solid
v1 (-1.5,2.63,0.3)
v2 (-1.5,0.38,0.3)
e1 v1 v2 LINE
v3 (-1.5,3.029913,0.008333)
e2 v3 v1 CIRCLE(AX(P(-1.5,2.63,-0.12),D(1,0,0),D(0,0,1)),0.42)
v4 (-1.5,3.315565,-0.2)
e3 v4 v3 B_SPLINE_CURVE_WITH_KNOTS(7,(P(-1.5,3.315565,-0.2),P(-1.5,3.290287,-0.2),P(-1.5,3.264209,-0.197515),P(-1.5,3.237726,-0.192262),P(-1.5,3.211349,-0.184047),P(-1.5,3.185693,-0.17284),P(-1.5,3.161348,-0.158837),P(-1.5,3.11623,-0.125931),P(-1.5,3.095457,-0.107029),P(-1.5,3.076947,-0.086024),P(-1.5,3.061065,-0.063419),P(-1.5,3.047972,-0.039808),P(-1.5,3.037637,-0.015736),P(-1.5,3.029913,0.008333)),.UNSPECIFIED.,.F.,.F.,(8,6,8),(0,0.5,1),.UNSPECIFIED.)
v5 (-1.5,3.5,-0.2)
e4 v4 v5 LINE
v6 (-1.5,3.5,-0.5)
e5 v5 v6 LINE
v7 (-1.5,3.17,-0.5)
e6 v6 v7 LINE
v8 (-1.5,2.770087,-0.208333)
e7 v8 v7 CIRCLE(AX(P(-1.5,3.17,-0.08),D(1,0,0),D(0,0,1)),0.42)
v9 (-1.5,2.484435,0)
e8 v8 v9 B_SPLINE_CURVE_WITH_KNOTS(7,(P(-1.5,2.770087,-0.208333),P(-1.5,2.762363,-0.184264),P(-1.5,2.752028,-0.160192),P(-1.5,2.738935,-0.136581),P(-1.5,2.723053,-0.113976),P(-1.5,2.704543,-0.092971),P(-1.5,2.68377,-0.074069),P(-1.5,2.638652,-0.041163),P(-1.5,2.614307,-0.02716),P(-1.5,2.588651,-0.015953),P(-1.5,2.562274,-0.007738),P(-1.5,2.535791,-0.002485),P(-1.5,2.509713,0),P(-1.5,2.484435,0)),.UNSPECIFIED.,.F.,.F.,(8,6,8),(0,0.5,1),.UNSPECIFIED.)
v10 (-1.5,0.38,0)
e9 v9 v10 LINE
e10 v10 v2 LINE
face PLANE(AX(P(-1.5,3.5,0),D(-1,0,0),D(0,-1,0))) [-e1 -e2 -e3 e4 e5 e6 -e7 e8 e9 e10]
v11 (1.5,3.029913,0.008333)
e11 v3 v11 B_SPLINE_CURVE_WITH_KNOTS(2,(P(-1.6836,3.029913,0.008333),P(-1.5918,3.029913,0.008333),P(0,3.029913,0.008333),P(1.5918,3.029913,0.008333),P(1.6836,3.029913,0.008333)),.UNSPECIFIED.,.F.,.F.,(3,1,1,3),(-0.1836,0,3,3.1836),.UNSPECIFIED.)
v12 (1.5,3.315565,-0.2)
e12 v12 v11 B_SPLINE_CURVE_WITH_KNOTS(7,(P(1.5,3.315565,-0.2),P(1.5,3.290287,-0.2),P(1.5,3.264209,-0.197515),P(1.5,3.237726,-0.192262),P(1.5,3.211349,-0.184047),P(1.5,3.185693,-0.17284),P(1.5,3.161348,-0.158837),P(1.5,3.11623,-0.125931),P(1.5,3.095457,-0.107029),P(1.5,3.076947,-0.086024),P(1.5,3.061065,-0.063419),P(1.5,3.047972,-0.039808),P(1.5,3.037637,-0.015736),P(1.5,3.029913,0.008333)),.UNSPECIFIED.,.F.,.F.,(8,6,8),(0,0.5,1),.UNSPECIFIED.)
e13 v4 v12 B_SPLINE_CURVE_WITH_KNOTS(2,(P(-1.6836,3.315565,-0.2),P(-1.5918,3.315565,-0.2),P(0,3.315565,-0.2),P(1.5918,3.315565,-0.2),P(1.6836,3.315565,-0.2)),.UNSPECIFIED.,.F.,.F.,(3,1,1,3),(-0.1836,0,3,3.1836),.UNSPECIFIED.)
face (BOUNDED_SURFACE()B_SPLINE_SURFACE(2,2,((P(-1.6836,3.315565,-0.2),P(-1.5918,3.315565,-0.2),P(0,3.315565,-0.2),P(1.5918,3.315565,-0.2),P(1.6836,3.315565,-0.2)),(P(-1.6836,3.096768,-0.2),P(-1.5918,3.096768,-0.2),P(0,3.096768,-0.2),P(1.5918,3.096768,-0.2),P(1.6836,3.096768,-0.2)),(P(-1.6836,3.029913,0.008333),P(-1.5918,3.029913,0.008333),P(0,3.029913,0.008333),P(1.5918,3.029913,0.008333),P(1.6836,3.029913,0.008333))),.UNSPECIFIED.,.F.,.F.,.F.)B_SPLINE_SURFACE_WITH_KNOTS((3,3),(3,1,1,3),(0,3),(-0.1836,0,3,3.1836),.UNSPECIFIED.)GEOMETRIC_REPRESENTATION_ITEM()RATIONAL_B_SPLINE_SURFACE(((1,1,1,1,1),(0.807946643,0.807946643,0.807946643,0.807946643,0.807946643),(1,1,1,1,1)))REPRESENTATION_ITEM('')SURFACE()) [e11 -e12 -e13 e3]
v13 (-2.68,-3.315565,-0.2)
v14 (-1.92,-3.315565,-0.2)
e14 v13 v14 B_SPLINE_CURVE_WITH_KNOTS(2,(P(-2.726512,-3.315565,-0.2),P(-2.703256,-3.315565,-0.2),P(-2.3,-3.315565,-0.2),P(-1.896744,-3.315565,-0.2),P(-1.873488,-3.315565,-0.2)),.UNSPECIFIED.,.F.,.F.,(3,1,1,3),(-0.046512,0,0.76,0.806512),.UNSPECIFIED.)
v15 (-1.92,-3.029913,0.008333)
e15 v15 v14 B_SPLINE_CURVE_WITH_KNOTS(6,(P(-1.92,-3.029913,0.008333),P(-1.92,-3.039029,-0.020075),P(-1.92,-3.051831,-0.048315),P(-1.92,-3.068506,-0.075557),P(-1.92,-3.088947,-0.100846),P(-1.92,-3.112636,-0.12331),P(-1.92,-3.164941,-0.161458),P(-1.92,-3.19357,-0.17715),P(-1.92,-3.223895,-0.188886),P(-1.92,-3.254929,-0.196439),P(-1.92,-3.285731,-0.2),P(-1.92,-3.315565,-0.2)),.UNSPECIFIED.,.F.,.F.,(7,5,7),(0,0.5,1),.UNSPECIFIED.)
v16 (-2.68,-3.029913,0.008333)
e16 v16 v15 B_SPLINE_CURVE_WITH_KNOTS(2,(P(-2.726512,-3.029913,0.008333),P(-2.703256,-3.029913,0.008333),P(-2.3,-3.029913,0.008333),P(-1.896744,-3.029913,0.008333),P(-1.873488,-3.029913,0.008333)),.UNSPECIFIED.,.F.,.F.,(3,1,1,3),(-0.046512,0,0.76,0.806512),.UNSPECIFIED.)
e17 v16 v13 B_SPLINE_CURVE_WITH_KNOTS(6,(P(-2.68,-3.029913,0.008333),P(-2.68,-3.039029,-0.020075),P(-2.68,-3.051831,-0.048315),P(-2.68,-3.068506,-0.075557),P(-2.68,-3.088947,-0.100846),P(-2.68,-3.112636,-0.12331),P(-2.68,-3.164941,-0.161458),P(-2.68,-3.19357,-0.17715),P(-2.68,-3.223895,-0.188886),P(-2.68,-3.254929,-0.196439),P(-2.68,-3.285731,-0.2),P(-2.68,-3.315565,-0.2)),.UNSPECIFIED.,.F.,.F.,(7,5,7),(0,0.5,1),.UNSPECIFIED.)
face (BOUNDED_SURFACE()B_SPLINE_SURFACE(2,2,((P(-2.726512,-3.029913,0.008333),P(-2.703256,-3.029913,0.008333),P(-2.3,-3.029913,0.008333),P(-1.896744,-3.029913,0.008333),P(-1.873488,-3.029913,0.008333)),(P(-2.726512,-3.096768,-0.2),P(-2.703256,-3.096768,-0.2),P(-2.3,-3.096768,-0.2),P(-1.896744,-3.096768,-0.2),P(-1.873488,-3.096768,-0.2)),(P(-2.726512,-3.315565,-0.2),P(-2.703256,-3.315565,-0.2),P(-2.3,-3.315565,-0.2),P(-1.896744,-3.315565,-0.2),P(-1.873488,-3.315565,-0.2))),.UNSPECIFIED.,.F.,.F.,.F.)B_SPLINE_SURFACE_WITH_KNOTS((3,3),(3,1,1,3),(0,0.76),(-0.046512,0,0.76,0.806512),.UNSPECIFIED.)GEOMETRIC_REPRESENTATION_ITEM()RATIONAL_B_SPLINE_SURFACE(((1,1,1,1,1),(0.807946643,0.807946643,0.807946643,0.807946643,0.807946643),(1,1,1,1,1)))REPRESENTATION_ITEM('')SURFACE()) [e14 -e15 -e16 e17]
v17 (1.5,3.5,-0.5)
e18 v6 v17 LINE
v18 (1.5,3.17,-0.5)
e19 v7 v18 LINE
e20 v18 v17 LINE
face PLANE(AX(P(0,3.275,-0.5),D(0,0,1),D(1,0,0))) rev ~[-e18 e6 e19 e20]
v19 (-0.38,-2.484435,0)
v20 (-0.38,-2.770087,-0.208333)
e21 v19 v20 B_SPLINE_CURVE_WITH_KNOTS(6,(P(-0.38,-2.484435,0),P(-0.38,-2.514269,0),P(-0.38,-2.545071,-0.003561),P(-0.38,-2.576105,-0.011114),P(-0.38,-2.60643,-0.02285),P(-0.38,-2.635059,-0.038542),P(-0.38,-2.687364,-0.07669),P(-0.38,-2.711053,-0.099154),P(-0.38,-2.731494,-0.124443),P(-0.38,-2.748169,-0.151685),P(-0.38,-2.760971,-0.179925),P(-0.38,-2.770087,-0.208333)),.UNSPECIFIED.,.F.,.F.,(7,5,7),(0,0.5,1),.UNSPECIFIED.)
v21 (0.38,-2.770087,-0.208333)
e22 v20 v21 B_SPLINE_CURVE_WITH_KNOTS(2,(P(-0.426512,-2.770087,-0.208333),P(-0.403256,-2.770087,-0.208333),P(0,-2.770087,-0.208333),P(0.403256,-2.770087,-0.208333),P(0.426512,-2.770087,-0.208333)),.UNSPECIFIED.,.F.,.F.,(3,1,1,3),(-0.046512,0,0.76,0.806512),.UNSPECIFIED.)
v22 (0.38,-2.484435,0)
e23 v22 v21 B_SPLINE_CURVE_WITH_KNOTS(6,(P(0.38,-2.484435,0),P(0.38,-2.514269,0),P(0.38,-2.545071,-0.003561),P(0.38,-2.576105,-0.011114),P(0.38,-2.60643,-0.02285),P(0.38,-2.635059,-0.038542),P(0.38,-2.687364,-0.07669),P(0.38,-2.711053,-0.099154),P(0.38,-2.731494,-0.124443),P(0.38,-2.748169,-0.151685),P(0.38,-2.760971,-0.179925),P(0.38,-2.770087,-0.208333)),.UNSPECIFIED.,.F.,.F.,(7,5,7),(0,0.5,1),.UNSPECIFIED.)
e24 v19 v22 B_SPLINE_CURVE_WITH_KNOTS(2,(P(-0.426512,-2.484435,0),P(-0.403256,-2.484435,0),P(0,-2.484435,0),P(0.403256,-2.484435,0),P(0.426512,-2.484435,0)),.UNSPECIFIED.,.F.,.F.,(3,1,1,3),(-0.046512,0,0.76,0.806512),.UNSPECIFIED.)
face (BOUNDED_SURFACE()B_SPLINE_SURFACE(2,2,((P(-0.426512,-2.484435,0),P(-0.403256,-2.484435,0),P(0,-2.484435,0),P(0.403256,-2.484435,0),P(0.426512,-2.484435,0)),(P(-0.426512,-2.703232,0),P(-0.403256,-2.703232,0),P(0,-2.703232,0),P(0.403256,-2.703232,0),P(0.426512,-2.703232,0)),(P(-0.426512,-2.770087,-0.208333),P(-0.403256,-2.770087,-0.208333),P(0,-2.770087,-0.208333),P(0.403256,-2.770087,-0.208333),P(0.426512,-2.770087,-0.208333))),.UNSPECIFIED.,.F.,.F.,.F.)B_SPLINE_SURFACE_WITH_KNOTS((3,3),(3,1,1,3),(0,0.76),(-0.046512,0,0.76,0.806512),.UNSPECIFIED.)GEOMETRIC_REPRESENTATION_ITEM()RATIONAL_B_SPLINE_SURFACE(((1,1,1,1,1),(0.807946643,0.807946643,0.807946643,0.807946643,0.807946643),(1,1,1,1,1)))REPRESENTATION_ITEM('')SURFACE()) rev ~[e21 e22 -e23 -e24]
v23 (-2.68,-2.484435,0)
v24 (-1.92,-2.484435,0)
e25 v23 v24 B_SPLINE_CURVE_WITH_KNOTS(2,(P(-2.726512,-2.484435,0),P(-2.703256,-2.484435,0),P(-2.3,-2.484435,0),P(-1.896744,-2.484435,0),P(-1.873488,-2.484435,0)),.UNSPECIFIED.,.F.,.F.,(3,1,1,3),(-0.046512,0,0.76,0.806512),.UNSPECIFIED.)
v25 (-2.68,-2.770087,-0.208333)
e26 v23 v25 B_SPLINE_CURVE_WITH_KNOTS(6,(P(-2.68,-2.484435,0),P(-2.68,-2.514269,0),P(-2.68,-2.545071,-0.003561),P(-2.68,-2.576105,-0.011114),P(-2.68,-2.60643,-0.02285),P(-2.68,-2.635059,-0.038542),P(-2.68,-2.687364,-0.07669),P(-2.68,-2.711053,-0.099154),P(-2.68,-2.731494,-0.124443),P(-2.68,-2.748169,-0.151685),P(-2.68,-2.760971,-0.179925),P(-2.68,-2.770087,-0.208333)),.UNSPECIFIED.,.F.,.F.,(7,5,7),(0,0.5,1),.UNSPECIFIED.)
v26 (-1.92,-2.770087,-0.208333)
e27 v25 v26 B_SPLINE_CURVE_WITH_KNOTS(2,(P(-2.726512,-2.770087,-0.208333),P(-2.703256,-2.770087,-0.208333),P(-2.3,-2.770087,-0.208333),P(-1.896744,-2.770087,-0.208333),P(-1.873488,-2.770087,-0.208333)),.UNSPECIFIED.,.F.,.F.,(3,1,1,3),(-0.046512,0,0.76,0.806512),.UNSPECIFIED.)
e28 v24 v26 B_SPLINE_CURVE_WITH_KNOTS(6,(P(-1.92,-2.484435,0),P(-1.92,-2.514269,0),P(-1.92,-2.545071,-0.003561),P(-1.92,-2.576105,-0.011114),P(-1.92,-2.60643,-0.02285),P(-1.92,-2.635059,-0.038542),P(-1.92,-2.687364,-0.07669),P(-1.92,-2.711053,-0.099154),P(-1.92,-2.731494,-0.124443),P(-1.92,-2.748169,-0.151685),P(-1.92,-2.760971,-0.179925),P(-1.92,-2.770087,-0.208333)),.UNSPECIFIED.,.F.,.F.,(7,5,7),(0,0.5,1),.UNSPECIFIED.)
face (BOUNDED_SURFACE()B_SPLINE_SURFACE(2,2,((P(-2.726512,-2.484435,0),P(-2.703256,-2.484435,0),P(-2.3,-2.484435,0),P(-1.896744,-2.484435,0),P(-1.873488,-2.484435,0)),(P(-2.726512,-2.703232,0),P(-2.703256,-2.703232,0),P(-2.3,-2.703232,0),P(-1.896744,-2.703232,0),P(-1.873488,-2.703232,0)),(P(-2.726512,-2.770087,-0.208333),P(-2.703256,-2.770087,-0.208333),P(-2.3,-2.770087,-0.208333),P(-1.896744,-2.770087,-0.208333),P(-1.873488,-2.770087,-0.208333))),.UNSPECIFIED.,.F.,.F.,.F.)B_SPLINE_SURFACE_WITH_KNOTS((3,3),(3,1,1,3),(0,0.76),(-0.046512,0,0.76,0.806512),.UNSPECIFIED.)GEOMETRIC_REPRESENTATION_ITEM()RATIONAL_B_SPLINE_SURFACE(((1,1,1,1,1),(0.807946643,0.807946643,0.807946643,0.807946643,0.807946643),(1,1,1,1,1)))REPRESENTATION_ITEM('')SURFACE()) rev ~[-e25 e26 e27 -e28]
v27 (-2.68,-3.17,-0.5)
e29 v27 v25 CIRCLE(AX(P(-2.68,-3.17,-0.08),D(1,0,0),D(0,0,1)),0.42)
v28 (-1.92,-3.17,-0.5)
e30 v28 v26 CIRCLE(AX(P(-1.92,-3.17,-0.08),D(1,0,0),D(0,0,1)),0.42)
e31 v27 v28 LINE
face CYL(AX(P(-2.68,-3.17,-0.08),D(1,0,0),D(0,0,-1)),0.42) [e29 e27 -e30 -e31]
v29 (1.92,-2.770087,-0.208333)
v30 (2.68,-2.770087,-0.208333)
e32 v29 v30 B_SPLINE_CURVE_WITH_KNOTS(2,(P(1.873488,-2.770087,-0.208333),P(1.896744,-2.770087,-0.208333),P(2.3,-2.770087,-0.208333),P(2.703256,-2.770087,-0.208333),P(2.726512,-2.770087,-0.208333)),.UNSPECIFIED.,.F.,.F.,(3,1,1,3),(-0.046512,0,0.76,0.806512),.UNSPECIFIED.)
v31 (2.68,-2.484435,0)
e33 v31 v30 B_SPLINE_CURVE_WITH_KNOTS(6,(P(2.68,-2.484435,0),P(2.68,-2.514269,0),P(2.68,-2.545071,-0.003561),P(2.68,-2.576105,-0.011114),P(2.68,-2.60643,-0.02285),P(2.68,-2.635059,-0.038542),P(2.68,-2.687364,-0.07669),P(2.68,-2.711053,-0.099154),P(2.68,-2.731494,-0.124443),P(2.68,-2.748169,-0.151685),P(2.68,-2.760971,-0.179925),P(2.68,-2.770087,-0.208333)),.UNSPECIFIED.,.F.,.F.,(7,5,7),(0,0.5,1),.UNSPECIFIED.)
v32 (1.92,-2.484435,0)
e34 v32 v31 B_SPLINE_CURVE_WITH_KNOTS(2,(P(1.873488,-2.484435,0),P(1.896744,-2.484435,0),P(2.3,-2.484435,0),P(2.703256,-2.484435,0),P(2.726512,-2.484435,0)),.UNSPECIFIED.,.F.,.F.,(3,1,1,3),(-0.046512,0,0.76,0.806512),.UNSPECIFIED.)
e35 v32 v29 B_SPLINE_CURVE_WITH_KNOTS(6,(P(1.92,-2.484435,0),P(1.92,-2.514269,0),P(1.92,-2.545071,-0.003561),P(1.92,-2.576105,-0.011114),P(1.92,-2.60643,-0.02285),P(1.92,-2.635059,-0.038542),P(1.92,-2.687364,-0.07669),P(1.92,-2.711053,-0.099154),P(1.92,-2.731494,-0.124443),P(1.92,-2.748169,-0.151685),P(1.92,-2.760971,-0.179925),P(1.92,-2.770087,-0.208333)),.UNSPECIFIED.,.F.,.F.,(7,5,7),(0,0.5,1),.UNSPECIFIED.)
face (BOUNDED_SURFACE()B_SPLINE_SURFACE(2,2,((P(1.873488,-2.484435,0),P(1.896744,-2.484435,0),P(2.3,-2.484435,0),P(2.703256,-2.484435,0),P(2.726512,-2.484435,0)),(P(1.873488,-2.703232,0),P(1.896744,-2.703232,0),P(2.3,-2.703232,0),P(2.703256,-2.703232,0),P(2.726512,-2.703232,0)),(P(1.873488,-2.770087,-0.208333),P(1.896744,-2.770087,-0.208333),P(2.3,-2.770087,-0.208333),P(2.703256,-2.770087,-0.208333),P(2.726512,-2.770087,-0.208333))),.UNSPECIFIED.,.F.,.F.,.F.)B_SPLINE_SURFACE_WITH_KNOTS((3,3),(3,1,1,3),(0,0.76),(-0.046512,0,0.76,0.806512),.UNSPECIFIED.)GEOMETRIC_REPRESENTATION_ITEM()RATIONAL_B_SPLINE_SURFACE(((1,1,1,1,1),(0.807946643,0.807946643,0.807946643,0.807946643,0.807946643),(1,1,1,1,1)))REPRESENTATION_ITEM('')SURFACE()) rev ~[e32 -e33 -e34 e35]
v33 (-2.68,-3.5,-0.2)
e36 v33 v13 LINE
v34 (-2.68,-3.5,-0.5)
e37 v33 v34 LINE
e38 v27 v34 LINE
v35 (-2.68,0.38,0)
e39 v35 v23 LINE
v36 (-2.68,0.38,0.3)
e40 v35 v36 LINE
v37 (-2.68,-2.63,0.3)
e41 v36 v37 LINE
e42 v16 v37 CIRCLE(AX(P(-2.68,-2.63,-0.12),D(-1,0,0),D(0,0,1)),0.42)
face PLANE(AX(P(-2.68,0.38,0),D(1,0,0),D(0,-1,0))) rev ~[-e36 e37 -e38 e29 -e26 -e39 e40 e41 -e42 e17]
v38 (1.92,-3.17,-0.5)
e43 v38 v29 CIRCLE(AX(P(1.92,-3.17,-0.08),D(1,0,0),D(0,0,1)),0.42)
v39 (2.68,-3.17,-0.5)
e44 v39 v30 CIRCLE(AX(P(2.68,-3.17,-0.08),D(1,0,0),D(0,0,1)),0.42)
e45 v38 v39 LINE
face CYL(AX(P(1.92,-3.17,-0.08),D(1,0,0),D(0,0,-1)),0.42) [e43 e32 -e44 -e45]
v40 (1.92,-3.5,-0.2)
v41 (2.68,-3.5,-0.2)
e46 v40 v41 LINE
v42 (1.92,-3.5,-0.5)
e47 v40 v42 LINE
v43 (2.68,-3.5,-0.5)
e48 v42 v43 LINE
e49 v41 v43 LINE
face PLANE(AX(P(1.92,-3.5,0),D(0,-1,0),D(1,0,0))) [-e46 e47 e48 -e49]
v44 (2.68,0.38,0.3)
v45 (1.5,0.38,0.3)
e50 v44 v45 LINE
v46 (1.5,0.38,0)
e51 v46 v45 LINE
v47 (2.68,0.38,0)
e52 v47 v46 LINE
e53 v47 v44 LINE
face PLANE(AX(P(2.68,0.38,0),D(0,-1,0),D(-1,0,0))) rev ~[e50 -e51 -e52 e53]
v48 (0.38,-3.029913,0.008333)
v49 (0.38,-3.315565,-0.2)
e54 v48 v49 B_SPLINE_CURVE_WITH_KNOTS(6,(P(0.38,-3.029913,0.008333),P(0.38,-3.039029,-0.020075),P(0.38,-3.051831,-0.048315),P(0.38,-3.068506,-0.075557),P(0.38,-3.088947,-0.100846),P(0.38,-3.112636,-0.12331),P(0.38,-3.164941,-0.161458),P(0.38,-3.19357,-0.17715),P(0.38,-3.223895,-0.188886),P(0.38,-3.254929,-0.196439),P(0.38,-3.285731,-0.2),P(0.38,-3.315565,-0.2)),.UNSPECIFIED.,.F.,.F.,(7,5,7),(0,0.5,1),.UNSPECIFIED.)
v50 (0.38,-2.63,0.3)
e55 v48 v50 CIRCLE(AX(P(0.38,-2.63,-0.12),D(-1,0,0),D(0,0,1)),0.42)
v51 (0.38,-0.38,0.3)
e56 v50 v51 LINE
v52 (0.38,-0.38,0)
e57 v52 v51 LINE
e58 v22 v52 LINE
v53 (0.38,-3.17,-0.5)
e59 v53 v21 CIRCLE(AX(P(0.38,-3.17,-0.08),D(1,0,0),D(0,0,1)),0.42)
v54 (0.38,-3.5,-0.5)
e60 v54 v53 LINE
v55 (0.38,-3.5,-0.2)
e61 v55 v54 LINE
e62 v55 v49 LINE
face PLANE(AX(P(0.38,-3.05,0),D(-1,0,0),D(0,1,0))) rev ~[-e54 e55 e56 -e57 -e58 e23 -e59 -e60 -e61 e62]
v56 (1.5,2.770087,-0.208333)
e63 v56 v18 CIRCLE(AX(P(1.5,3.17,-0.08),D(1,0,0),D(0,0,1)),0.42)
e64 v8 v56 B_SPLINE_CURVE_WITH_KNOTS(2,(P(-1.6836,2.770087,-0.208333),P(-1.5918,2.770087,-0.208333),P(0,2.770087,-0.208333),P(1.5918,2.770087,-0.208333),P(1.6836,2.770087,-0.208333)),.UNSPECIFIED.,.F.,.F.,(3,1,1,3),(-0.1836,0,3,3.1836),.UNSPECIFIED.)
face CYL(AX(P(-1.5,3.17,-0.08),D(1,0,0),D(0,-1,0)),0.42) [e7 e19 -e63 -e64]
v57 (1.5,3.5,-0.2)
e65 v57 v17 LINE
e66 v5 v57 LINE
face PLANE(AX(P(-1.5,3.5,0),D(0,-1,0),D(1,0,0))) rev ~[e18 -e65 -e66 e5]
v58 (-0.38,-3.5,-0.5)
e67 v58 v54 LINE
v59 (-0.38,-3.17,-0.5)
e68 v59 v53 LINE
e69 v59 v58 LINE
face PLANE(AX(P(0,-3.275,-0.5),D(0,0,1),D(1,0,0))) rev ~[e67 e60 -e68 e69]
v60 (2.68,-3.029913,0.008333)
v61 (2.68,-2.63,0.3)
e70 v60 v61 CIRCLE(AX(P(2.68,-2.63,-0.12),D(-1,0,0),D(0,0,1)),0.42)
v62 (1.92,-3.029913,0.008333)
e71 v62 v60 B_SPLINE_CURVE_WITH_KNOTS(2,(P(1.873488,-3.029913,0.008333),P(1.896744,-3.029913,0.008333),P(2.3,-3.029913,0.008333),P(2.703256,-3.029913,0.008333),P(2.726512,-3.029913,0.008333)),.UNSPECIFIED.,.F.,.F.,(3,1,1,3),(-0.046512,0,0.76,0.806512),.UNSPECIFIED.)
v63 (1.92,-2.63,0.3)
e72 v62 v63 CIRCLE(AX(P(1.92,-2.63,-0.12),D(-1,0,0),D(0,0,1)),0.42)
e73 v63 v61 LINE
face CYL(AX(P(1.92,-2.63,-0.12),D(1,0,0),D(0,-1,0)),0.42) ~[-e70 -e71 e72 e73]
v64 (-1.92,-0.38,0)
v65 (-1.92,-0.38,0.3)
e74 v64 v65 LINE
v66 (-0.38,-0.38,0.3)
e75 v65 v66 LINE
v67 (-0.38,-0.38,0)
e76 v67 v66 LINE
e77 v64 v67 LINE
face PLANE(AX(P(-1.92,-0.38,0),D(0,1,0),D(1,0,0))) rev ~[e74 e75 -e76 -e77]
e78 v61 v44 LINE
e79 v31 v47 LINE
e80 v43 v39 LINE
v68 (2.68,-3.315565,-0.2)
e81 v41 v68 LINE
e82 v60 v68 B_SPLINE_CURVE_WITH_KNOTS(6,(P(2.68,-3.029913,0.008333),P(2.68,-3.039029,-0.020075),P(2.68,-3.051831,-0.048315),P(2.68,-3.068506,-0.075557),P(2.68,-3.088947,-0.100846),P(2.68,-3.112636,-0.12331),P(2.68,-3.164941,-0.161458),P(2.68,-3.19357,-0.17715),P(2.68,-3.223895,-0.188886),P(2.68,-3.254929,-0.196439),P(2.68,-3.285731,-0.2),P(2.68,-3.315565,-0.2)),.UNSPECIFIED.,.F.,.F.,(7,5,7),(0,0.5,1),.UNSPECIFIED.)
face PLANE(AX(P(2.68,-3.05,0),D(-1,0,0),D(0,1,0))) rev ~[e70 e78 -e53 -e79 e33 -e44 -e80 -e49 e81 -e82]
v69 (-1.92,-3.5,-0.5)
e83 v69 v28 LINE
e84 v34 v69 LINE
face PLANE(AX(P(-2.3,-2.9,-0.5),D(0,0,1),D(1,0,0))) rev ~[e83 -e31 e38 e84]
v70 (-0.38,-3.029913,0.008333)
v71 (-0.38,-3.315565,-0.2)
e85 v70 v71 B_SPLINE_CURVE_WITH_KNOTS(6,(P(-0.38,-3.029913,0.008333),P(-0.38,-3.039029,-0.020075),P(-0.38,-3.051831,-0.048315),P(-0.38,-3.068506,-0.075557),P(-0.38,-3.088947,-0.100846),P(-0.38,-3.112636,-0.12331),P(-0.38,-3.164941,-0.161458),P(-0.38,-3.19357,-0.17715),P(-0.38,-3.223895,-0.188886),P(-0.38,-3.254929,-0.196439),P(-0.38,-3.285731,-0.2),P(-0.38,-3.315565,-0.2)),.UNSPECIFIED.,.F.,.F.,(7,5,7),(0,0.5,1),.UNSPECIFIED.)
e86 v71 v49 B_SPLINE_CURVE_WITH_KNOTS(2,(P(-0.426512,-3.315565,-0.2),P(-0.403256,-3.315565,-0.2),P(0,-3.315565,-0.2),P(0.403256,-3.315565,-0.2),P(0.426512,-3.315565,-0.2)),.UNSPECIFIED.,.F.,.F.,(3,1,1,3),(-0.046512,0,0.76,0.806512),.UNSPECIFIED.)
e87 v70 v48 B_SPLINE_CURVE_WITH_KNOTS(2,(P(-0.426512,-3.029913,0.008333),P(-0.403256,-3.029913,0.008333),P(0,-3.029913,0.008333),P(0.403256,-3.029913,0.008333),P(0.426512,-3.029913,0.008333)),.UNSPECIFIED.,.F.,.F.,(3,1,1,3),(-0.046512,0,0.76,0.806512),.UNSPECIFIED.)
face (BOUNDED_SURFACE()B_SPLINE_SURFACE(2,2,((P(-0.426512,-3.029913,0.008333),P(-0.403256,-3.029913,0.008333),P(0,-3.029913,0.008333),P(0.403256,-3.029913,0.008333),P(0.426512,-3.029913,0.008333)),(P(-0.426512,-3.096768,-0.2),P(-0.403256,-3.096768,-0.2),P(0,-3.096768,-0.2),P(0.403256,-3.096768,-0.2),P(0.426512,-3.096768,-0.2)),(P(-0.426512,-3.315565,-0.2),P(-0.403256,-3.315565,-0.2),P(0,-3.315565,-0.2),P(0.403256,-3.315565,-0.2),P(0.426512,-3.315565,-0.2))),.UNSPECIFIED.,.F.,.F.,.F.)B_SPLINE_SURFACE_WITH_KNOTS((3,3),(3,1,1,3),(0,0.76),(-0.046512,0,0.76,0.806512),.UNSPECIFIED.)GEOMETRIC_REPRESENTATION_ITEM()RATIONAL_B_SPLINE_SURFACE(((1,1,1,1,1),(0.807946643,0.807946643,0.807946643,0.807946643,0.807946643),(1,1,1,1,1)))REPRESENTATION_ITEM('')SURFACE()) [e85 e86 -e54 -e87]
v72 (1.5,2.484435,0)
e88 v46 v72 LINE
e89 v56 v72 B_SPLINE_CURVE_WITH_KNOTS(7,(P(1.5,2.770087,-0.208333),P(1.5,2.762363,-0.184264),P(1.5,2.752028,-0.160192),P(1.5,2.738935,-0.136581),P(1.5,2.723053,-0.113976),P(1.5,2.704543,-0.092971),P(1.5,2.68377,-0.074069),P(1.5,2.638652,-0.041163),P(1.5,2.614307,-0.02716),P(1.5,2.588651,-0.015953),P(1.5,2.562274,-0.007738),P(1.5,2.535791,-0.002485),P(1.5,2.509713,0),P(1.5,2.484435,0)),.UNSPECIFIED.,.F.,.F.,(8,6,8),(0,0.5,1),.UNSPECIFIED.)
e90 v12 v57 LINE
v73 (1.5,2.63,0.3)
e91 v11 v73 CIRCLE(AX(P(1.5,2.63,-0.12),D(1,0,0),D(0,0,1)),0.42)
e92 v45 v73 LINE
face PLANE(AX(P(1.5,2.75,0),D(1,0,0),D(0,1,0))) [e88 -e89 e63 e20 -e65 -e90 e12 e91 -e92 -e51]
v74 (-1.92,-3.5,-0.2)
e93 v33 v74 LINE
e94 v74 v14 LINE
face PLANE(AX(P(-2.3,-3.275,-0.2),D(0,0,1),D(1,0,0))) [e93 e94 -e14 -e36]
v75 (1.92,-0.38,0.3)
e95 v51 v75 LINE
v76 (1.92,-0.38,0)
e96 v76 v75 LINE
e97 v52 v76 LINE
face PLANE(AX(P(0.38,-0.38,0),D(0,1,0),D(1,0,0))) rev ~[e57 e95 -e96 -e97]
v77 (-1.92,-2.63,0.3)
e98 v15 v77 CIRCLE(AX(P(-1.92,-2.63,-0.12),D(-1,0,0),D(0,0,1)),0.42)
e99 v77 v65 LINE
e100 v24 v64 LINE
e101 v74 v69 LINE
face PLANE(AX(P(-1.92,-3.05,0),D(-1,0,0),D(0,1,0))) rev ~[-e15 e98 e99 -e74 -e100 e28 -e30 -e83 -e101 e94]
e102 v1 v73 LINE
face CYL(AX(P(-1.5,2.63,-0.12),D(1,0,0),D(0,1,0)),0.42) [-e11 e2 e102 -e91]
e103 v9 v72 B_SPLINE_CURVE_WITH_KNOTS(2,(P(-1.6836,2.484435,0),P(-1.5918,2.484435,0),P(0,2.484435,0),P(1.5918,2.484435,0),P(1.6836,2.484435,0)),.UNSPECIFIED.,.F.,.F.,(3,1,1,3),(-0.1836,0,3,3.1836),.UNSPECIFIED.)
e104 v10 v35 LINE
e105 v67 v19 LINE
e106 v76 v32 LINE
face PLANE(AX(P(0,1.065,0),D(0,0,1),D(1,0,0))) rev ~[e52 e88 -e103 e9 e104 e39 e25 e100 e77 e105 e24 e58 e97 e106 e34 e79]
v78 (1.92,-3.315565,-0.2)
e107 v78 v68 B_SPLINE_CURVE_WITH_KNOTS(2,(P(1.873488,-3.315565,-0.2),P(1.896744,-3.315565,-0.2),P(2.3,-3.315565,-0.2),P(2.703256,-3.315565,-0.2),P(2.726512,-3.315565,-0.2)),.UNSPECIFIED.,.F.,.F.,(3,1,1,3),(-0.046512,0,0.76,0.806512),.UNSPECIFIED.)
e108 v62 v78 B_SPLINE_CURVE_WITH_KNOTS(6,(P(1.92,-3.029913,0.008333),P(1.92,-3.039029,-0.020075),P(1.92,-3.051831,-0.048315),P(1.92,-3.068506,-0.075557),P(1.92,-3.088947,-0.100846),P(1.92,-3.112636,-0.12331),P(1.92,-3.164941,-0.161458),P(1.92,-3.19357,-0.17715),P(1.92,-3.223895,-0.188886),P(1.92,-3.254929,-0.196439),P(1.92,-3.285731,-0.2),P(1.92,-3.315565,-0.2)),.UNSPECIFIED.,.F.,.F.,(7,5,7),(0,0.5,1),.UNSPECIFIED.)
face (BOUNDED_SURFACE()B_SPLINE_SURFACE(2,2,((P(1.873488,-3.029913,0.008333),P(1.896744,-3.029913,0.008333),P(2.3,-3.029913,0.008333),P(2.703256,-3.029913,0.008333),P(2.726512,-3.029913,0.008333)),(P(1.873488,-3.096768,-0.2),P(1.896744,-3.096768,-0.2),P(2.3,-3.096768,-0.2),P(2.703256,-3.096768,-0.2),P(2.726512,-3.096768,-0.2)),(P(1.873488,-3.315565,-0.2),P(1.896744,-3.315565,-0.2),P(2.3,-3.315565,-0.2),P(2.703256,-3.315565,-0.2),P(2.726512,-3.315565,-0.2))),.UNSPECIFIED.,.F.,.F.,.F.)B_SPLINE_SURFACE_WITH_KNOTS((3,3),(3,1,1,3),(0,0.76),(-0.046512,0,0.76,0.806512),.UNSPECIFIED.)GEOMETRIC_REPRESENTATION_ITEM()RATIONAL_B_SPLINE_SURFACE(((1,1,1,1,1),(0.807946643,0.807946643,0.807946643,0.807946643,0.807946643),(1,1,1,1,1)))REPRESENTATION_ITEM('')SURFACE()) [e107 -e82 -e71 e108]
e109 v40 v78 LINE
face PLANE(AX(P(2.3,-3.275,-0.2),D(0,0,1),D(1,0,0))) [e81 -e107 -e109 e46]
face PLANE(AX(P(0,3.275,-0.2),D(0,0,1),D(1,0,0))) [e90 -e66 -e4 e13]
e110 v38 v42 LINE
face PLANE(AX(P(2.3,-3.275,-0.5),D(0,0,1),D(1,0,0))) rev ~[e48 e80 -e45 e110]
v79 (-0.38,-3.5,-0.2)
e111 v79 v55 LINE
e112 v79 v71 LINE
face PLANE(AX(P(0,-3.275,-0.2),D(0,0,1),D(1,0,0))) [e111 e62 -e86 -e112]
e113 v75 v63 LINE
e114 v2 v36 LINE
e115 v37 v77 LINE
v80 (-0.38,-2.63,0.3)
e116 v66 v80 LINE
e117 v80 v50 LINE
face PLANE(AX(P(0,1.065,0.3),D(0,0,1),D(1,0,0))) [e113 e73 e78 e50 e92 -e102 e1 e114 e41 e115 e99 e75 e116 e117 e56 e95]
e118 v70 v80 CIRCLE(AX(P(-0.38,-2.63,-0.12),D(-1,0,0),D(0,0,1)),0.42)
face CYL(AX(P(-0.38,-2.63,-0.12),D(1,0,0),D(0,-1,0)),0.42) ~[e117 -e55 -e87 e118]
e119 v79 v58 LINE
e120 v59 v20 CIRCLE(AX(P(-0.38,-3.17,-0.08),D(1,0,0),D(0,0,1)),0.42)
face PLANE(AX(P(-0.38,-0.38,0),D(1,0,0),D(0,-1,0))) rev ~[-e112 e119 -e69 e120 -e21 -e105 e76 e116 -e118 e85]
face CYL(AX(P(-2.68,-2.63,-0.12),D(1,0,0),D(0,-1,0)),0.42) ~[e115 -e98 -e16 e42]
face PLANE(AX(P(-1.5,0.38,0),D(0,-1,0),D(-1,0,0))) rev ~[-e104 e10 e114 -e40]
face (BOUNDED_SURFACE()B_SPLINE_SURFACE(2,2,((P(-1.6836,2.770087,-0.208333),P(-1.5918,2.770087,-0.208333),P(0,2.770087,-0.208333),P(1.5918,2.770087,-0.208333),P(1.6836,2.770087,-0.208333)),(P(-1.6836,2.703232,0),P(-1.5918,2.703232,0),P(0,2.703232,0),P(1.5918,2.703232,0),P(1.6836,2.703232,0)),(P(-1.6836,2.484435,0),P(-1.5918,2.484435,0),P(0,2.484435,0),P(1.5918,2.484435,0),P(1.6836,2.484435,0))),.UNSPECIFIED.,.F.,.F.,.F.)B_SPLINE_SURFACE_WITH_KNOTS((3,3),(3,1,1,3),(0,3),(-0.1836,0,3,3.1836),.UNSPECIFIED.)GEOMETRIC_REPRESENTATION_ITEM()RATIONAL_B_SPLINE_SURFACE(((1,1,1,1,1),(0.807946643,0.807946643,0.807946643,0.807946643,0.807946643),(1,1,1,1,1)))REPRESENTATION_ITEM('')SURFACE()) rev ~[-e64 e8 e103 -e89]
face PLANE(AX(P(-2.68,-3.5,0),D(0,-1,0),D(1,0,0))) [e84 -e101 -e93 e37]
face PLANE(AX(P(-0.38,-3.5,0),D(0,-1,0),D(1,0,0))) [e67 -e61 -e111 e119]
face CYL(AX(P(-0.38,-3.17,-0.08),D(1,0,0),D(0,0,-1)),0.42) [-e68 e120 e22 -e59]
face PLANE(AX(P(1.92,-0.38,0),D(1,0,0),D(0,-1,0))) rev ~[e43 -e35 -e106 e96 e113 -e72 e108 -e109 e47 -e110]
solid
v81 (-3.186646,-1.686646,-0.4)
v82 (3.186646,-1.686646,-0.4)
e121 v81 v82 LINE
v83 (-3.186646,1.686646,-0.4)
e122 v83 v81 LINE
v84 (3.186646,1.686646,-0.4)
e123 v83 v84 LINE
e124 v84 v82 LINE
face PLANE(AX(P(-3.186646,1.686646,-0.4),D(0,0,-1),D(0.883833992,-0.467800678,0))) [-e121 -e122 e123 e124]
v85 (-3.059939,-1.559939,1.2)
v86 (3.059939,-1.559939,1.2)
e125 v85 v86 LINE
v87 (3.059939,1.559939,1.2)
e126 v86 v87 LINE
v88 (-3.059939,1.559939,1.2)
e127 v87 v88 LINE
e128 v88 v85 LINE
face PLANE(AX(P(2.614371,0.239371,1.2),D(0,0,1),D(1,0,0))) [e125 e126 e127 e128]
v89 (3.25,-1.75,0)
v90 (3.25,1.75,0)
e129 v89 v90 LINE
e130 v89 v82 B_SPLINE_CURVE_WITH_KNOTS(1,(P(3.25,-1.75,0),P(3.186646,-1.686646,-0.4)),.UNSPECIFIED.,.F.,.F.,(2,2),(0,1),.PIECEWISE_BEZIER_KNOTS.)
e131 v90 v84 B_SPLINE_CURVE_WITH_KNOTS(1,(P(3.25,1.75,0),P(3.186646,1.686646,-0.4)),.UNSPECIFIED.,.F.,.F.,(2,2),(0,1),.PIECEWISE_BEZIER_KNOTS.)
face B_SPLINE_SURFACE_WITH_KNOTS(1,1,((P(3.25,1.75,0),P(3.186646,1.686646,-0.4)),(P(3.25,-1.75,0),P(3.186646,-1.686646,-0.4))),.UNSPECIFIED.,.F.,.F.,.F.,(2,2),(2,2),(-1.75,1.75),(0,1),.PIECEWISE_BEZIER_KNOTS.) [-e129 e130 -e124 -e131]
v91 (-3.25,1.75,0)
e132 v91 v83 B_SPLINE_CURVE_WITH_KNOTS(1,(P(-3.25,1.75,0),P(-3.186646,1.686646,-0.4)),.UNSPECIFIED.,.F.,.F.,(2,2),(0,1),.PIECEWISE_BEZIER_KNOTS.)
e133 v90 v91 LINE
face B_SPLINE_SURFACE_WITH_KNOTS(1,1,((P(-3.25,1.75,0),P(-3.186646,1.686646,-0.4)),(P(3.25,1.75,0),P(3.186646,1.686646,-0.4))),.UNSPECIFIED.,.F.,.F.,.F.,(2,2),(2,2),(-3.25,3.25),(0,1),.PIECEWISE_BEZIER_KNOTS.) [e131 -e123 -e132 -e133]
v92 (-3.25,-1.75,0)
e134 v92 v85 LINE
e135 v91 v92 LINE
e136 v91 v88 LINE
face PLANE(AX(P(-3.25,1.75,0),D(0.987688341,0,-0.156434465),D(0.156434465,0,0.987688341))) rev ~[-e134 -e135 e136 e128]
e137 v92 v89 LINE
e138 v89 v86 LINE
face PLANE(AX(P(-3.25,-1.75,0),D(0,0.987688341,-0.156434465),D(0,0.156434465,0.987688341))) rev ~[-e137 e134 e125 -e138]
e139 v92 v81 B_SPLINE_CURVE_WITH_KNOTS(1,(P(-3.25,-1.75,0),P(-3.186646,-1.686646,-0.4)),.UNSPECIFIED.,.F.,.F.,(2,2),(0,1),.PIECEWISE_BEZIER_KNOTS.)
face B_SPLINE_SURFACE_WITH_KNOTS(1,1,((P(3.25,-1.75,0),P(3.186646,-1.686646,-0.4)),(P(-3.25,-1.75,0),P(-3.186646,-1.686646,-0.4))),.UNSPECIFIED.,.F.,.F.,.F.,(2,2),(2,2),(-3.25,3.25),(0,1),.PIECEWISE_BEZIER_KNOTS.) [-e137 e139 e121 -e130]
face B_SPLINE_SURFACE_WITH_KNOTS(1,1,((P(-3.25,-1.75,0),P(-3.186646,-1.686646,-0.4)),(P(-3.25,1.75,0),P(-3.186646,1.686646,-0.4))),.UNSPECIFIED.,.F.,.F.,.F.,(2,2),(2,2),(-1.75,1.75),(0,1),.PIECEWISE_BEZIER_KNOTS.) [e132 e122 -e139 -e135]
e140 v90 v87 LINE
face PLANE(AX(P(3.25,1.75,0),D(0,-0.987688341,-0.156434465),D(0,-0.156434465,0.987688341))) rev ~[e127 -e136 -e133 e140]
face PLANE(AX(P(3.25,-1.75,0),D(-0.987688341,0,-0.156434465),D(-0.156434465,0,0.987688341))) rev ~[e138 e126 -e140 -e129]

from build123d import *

# Parameters (mm, degrees)
F3_W      = 3
F3_H      = 1.37
F3_W_2    = 1.54
F3_W_3    = 0.76
F3_H_2    = 0.38
F4_DEPTH  = 1.2
F4_TAPER  = 9
F4_FACE_W = 6.5
F4_FACE_H = 3.5
F5_DEPTH  = 0.4
F5_TAPER  = 9
F3_H_3    = 1
F3_H_4    = 0.3
F6_DEPTH  = 0.3
F3_H_5    = 0.45
F7_DEPTH  = 0.5
F8_DEPTH  = 0.2
F9_R      = 0.42
F10_R     = 0.3


with BuildPart() as f4:
    # F3 (on Top) → F4 (new body)
    with BuildSketch(Plane.XY):
        Polygon((2.68, -1.75), (3.25, -1.75), (3.25, 1.75), (1.5, 1.75), (1.5, 0.38), (2.68, 0.38), (2.68, 0), (2.68, -0.38), align=None)
        with Locations((0, 1.065)):
            Rectangle(F3_W, F3_H)
        with Locations((1.15, -1.065)):
            Rectangle(F3_W_2, F3_H)
        Polygon((1.5, 0), (1.5, 0.38), (-1.5, 0.38), (-1.5, 0), (-0.38, 0), (0.38, 0), align=None)
        Polygon((0.38, -0.38), (1.92, -0.38), (1.92, 0), (2.68, 0), (2.68, 0.38), (1.5, 0.38), (1.5, 0), (0.38, 0), align=None)
        with Locations((2.3, -0.19)):
            Rectangle(F3_W_3, F3_H_2)
        with Locations((2.3, -1.065)):
            Rectangle(F3_W_3, F3_H)
        with Locations((0, -1.065)):
            Rectangle(F3_W_3, F3_H)
        with Locations((0, -0.19)):
            Rectangle(F3_W_3, F3_H_2)
        with Locations((-1.15, -1.065)):
            Rectangle(F3_W_2, F3_H)
        Polygon((-1.5, 0), (-1.5, 0.38), (-2.68, 0.38), (-2.68, 0), (-1.92, 0), (-1.92, -0.38), (-0.38, -0.38), (-0.38, 0), align=None)
        Polygon((-1.5, 0.38), (-1.5, 1.75), (-3.25, 1.75), (-3.25, -1.75), (-2.68, -1.75), (-2.68, -0.38), (-2.68, 0), (-2.68, 0.38), align=None)
        with Locations((-2.3, -0.19)):
            Rectangle(F3_W_3, F3_H_2)
        with Locations((-2.3, -1.065)):
            Rectangle(F3_W_3, F3_H)
    extrude(amount=F4_DEPTH, taper=F4_TAPER)

    # F4_face (on face) → F5 (join)
    with BuildSketch(Plane(origin=(0, 0, 0), x_dir=(1, 0, 0), z_dir=(0, 0, -1))):
        Rectangle(F4_FACE_W, F4_FACE_H)
    extrude(amount=F5_DEPTH, taper=F5_TAPER)


with BuildPart() as f6:
    # F3 (on Top) → F6 (new body)
    with BuildSketch(Plane.XY):
        with Locations((0, 1.065)):
            Rectangle(F3_W, F3_H)
        Polygon((1.5, 0), (1.5, 0.38), (-1.5, 0.38), (-1.5, 0), (-0.38, 0), (0.38, 0), align=None)
        Polygon((-1.5, 0), (-1.5, 0.38), (-2.68, 0.38), (-2.68, 0), (-1.92, 0), (-1.92, -0.38), (-0.38, -0.38), (-0.38, 0), align=None)
        with Locations((-2.3, -1.065)):
            Rectangle(F3_W_3, F3_H)
        with Locations((-2.3, -0.19)):
            Rectangle(F3_W_3, F3_H_2)
        with Locations((0, -1.065)):
            Rectangle(F3_W_3, F3_H)
        Polygon((0.38, -0.38), (1.92, -0.38), (1.92, 0), (2.68, 0), (2.68, 0.38), (1.5, 0.38), (1.5, 0), (0.38, 0), align=None)
        with Locations((0, -0.19)):
            Rectangle(F3_W_3, F3_H_2)
        with Locations((2.3, -1.065)):
            Rectangle(F3_W_3, F3_H)
        with Locations((2.3, -0.19)):
            Rectangle(F3_W_3, F3_H_2)
        with Locations((-2.3, -2.25)):
            Rectangle(F3_W_3, F3_H_3)
        with Locations((-2.3, -2.9)):
            Rectangle(F3_W_3, F3_H_4)
        with Locations((0, -2.25)):
            Rectangle(F3_W_3, F3_H_3)
        with Locations((0, -2.9)):
            Rectangle(F3_W_3, F3_H_4)
        with Locations((2.3, -2.25)):
            Rectangle(F3_W_3, F3_H_3)
        with Locations((2.3, -2.9)):
            Rectangle(F3_W_3, F3_H_4)
        with Locations((0, 2.25)):
            Rectangle(F3_W, F3_H_3)
        with Locations((0, 2.9)):
            Rectangle(F3_W, F3_H_4)
    extrude(amount=F6_DEPTH)

    # F3 (on Top) → F7 (join)
    with BuildSketch(Plane.XY):
        with Locations((0, 3.275)):
            Rectangle(F3_W, F3_H_5)
        with Locations((0, 2.9)):
            Rectangle(F3_W, F3_H_4)
        with Locations((-2.3, -2.9)):
            Rectangle(F3_W_3, F3_H_4)
        with Locations((-2.3, -3.275)):
            Rectangle(F3_W_3, F3_H_5)
        with Locations((0, -3.275)):
            Rectangle(F3_W_3, F3_H_5)
        with Locations((2.3, -3.275)):
            Rectangle(F3_W_3, F3_H_5)
        with Locations((0, -2.9)):
            Rectangle(F3_W_3, F3_H_4)
        with Locations((2.3, -2.9)):
            Rectangle(F3_W_3, F3_H_4)
    extrude(amount=-F7_DEPTH)

    # F3 (on Top) → F8 (cut)
    with BuildSketch(Plane.XY):
        with Locations((0, 3.275)):
            Rectangle(F3_W, F3_H_5)
        with Locations((-2.3, -3.275)):
            Rectangle(F3_W_3, F3_H_5)
        with Locations((0, -3.275)):
            Rectangle(F3_W_3, F3_H_5)
        with Locations((2.3, -3.275)):
            Rectangle(F3_W_3, F3_H_5)
    extrude(amount=-F8_DEPTH, mode=Mode.SUBTRACT)

    # F9
    f9_edges = [f6.edges().sort_by_distance(p)[0] for p in [
        (-2.3, -3.05, 0.3),
        (0, -3.05, 0.3),
        (2.3, -3.05, 0.3),
        (0, 3.05, 0.3),
        (0, 2.75, -0.5),
        (2.3, -2.75, -0.5),
        (0, -2.75, -0.5),
        (-2.3, -2.75, -0.5),
    ]]
    fillet(f9_edges, radius=F9_R)

    # F10
    f10_edges = [f6.edges().sort_by_distance(p)[0] for p in [
        (-2.3, -3.05, -0.2),
        (0, -3.05, -0.2),
        (2.3, -3.05, -0.2),
        (0, 3.05, -0.2),
        (0, 2.75, 0),
        (2.3, -2.75, 0),
        (0, -2.75, 0),
        (-2.3, -2.75, 0),
    ]]
    fillet(f10_edges, radius=F10_R)


solid = Compound([f4.part, f6.part])
